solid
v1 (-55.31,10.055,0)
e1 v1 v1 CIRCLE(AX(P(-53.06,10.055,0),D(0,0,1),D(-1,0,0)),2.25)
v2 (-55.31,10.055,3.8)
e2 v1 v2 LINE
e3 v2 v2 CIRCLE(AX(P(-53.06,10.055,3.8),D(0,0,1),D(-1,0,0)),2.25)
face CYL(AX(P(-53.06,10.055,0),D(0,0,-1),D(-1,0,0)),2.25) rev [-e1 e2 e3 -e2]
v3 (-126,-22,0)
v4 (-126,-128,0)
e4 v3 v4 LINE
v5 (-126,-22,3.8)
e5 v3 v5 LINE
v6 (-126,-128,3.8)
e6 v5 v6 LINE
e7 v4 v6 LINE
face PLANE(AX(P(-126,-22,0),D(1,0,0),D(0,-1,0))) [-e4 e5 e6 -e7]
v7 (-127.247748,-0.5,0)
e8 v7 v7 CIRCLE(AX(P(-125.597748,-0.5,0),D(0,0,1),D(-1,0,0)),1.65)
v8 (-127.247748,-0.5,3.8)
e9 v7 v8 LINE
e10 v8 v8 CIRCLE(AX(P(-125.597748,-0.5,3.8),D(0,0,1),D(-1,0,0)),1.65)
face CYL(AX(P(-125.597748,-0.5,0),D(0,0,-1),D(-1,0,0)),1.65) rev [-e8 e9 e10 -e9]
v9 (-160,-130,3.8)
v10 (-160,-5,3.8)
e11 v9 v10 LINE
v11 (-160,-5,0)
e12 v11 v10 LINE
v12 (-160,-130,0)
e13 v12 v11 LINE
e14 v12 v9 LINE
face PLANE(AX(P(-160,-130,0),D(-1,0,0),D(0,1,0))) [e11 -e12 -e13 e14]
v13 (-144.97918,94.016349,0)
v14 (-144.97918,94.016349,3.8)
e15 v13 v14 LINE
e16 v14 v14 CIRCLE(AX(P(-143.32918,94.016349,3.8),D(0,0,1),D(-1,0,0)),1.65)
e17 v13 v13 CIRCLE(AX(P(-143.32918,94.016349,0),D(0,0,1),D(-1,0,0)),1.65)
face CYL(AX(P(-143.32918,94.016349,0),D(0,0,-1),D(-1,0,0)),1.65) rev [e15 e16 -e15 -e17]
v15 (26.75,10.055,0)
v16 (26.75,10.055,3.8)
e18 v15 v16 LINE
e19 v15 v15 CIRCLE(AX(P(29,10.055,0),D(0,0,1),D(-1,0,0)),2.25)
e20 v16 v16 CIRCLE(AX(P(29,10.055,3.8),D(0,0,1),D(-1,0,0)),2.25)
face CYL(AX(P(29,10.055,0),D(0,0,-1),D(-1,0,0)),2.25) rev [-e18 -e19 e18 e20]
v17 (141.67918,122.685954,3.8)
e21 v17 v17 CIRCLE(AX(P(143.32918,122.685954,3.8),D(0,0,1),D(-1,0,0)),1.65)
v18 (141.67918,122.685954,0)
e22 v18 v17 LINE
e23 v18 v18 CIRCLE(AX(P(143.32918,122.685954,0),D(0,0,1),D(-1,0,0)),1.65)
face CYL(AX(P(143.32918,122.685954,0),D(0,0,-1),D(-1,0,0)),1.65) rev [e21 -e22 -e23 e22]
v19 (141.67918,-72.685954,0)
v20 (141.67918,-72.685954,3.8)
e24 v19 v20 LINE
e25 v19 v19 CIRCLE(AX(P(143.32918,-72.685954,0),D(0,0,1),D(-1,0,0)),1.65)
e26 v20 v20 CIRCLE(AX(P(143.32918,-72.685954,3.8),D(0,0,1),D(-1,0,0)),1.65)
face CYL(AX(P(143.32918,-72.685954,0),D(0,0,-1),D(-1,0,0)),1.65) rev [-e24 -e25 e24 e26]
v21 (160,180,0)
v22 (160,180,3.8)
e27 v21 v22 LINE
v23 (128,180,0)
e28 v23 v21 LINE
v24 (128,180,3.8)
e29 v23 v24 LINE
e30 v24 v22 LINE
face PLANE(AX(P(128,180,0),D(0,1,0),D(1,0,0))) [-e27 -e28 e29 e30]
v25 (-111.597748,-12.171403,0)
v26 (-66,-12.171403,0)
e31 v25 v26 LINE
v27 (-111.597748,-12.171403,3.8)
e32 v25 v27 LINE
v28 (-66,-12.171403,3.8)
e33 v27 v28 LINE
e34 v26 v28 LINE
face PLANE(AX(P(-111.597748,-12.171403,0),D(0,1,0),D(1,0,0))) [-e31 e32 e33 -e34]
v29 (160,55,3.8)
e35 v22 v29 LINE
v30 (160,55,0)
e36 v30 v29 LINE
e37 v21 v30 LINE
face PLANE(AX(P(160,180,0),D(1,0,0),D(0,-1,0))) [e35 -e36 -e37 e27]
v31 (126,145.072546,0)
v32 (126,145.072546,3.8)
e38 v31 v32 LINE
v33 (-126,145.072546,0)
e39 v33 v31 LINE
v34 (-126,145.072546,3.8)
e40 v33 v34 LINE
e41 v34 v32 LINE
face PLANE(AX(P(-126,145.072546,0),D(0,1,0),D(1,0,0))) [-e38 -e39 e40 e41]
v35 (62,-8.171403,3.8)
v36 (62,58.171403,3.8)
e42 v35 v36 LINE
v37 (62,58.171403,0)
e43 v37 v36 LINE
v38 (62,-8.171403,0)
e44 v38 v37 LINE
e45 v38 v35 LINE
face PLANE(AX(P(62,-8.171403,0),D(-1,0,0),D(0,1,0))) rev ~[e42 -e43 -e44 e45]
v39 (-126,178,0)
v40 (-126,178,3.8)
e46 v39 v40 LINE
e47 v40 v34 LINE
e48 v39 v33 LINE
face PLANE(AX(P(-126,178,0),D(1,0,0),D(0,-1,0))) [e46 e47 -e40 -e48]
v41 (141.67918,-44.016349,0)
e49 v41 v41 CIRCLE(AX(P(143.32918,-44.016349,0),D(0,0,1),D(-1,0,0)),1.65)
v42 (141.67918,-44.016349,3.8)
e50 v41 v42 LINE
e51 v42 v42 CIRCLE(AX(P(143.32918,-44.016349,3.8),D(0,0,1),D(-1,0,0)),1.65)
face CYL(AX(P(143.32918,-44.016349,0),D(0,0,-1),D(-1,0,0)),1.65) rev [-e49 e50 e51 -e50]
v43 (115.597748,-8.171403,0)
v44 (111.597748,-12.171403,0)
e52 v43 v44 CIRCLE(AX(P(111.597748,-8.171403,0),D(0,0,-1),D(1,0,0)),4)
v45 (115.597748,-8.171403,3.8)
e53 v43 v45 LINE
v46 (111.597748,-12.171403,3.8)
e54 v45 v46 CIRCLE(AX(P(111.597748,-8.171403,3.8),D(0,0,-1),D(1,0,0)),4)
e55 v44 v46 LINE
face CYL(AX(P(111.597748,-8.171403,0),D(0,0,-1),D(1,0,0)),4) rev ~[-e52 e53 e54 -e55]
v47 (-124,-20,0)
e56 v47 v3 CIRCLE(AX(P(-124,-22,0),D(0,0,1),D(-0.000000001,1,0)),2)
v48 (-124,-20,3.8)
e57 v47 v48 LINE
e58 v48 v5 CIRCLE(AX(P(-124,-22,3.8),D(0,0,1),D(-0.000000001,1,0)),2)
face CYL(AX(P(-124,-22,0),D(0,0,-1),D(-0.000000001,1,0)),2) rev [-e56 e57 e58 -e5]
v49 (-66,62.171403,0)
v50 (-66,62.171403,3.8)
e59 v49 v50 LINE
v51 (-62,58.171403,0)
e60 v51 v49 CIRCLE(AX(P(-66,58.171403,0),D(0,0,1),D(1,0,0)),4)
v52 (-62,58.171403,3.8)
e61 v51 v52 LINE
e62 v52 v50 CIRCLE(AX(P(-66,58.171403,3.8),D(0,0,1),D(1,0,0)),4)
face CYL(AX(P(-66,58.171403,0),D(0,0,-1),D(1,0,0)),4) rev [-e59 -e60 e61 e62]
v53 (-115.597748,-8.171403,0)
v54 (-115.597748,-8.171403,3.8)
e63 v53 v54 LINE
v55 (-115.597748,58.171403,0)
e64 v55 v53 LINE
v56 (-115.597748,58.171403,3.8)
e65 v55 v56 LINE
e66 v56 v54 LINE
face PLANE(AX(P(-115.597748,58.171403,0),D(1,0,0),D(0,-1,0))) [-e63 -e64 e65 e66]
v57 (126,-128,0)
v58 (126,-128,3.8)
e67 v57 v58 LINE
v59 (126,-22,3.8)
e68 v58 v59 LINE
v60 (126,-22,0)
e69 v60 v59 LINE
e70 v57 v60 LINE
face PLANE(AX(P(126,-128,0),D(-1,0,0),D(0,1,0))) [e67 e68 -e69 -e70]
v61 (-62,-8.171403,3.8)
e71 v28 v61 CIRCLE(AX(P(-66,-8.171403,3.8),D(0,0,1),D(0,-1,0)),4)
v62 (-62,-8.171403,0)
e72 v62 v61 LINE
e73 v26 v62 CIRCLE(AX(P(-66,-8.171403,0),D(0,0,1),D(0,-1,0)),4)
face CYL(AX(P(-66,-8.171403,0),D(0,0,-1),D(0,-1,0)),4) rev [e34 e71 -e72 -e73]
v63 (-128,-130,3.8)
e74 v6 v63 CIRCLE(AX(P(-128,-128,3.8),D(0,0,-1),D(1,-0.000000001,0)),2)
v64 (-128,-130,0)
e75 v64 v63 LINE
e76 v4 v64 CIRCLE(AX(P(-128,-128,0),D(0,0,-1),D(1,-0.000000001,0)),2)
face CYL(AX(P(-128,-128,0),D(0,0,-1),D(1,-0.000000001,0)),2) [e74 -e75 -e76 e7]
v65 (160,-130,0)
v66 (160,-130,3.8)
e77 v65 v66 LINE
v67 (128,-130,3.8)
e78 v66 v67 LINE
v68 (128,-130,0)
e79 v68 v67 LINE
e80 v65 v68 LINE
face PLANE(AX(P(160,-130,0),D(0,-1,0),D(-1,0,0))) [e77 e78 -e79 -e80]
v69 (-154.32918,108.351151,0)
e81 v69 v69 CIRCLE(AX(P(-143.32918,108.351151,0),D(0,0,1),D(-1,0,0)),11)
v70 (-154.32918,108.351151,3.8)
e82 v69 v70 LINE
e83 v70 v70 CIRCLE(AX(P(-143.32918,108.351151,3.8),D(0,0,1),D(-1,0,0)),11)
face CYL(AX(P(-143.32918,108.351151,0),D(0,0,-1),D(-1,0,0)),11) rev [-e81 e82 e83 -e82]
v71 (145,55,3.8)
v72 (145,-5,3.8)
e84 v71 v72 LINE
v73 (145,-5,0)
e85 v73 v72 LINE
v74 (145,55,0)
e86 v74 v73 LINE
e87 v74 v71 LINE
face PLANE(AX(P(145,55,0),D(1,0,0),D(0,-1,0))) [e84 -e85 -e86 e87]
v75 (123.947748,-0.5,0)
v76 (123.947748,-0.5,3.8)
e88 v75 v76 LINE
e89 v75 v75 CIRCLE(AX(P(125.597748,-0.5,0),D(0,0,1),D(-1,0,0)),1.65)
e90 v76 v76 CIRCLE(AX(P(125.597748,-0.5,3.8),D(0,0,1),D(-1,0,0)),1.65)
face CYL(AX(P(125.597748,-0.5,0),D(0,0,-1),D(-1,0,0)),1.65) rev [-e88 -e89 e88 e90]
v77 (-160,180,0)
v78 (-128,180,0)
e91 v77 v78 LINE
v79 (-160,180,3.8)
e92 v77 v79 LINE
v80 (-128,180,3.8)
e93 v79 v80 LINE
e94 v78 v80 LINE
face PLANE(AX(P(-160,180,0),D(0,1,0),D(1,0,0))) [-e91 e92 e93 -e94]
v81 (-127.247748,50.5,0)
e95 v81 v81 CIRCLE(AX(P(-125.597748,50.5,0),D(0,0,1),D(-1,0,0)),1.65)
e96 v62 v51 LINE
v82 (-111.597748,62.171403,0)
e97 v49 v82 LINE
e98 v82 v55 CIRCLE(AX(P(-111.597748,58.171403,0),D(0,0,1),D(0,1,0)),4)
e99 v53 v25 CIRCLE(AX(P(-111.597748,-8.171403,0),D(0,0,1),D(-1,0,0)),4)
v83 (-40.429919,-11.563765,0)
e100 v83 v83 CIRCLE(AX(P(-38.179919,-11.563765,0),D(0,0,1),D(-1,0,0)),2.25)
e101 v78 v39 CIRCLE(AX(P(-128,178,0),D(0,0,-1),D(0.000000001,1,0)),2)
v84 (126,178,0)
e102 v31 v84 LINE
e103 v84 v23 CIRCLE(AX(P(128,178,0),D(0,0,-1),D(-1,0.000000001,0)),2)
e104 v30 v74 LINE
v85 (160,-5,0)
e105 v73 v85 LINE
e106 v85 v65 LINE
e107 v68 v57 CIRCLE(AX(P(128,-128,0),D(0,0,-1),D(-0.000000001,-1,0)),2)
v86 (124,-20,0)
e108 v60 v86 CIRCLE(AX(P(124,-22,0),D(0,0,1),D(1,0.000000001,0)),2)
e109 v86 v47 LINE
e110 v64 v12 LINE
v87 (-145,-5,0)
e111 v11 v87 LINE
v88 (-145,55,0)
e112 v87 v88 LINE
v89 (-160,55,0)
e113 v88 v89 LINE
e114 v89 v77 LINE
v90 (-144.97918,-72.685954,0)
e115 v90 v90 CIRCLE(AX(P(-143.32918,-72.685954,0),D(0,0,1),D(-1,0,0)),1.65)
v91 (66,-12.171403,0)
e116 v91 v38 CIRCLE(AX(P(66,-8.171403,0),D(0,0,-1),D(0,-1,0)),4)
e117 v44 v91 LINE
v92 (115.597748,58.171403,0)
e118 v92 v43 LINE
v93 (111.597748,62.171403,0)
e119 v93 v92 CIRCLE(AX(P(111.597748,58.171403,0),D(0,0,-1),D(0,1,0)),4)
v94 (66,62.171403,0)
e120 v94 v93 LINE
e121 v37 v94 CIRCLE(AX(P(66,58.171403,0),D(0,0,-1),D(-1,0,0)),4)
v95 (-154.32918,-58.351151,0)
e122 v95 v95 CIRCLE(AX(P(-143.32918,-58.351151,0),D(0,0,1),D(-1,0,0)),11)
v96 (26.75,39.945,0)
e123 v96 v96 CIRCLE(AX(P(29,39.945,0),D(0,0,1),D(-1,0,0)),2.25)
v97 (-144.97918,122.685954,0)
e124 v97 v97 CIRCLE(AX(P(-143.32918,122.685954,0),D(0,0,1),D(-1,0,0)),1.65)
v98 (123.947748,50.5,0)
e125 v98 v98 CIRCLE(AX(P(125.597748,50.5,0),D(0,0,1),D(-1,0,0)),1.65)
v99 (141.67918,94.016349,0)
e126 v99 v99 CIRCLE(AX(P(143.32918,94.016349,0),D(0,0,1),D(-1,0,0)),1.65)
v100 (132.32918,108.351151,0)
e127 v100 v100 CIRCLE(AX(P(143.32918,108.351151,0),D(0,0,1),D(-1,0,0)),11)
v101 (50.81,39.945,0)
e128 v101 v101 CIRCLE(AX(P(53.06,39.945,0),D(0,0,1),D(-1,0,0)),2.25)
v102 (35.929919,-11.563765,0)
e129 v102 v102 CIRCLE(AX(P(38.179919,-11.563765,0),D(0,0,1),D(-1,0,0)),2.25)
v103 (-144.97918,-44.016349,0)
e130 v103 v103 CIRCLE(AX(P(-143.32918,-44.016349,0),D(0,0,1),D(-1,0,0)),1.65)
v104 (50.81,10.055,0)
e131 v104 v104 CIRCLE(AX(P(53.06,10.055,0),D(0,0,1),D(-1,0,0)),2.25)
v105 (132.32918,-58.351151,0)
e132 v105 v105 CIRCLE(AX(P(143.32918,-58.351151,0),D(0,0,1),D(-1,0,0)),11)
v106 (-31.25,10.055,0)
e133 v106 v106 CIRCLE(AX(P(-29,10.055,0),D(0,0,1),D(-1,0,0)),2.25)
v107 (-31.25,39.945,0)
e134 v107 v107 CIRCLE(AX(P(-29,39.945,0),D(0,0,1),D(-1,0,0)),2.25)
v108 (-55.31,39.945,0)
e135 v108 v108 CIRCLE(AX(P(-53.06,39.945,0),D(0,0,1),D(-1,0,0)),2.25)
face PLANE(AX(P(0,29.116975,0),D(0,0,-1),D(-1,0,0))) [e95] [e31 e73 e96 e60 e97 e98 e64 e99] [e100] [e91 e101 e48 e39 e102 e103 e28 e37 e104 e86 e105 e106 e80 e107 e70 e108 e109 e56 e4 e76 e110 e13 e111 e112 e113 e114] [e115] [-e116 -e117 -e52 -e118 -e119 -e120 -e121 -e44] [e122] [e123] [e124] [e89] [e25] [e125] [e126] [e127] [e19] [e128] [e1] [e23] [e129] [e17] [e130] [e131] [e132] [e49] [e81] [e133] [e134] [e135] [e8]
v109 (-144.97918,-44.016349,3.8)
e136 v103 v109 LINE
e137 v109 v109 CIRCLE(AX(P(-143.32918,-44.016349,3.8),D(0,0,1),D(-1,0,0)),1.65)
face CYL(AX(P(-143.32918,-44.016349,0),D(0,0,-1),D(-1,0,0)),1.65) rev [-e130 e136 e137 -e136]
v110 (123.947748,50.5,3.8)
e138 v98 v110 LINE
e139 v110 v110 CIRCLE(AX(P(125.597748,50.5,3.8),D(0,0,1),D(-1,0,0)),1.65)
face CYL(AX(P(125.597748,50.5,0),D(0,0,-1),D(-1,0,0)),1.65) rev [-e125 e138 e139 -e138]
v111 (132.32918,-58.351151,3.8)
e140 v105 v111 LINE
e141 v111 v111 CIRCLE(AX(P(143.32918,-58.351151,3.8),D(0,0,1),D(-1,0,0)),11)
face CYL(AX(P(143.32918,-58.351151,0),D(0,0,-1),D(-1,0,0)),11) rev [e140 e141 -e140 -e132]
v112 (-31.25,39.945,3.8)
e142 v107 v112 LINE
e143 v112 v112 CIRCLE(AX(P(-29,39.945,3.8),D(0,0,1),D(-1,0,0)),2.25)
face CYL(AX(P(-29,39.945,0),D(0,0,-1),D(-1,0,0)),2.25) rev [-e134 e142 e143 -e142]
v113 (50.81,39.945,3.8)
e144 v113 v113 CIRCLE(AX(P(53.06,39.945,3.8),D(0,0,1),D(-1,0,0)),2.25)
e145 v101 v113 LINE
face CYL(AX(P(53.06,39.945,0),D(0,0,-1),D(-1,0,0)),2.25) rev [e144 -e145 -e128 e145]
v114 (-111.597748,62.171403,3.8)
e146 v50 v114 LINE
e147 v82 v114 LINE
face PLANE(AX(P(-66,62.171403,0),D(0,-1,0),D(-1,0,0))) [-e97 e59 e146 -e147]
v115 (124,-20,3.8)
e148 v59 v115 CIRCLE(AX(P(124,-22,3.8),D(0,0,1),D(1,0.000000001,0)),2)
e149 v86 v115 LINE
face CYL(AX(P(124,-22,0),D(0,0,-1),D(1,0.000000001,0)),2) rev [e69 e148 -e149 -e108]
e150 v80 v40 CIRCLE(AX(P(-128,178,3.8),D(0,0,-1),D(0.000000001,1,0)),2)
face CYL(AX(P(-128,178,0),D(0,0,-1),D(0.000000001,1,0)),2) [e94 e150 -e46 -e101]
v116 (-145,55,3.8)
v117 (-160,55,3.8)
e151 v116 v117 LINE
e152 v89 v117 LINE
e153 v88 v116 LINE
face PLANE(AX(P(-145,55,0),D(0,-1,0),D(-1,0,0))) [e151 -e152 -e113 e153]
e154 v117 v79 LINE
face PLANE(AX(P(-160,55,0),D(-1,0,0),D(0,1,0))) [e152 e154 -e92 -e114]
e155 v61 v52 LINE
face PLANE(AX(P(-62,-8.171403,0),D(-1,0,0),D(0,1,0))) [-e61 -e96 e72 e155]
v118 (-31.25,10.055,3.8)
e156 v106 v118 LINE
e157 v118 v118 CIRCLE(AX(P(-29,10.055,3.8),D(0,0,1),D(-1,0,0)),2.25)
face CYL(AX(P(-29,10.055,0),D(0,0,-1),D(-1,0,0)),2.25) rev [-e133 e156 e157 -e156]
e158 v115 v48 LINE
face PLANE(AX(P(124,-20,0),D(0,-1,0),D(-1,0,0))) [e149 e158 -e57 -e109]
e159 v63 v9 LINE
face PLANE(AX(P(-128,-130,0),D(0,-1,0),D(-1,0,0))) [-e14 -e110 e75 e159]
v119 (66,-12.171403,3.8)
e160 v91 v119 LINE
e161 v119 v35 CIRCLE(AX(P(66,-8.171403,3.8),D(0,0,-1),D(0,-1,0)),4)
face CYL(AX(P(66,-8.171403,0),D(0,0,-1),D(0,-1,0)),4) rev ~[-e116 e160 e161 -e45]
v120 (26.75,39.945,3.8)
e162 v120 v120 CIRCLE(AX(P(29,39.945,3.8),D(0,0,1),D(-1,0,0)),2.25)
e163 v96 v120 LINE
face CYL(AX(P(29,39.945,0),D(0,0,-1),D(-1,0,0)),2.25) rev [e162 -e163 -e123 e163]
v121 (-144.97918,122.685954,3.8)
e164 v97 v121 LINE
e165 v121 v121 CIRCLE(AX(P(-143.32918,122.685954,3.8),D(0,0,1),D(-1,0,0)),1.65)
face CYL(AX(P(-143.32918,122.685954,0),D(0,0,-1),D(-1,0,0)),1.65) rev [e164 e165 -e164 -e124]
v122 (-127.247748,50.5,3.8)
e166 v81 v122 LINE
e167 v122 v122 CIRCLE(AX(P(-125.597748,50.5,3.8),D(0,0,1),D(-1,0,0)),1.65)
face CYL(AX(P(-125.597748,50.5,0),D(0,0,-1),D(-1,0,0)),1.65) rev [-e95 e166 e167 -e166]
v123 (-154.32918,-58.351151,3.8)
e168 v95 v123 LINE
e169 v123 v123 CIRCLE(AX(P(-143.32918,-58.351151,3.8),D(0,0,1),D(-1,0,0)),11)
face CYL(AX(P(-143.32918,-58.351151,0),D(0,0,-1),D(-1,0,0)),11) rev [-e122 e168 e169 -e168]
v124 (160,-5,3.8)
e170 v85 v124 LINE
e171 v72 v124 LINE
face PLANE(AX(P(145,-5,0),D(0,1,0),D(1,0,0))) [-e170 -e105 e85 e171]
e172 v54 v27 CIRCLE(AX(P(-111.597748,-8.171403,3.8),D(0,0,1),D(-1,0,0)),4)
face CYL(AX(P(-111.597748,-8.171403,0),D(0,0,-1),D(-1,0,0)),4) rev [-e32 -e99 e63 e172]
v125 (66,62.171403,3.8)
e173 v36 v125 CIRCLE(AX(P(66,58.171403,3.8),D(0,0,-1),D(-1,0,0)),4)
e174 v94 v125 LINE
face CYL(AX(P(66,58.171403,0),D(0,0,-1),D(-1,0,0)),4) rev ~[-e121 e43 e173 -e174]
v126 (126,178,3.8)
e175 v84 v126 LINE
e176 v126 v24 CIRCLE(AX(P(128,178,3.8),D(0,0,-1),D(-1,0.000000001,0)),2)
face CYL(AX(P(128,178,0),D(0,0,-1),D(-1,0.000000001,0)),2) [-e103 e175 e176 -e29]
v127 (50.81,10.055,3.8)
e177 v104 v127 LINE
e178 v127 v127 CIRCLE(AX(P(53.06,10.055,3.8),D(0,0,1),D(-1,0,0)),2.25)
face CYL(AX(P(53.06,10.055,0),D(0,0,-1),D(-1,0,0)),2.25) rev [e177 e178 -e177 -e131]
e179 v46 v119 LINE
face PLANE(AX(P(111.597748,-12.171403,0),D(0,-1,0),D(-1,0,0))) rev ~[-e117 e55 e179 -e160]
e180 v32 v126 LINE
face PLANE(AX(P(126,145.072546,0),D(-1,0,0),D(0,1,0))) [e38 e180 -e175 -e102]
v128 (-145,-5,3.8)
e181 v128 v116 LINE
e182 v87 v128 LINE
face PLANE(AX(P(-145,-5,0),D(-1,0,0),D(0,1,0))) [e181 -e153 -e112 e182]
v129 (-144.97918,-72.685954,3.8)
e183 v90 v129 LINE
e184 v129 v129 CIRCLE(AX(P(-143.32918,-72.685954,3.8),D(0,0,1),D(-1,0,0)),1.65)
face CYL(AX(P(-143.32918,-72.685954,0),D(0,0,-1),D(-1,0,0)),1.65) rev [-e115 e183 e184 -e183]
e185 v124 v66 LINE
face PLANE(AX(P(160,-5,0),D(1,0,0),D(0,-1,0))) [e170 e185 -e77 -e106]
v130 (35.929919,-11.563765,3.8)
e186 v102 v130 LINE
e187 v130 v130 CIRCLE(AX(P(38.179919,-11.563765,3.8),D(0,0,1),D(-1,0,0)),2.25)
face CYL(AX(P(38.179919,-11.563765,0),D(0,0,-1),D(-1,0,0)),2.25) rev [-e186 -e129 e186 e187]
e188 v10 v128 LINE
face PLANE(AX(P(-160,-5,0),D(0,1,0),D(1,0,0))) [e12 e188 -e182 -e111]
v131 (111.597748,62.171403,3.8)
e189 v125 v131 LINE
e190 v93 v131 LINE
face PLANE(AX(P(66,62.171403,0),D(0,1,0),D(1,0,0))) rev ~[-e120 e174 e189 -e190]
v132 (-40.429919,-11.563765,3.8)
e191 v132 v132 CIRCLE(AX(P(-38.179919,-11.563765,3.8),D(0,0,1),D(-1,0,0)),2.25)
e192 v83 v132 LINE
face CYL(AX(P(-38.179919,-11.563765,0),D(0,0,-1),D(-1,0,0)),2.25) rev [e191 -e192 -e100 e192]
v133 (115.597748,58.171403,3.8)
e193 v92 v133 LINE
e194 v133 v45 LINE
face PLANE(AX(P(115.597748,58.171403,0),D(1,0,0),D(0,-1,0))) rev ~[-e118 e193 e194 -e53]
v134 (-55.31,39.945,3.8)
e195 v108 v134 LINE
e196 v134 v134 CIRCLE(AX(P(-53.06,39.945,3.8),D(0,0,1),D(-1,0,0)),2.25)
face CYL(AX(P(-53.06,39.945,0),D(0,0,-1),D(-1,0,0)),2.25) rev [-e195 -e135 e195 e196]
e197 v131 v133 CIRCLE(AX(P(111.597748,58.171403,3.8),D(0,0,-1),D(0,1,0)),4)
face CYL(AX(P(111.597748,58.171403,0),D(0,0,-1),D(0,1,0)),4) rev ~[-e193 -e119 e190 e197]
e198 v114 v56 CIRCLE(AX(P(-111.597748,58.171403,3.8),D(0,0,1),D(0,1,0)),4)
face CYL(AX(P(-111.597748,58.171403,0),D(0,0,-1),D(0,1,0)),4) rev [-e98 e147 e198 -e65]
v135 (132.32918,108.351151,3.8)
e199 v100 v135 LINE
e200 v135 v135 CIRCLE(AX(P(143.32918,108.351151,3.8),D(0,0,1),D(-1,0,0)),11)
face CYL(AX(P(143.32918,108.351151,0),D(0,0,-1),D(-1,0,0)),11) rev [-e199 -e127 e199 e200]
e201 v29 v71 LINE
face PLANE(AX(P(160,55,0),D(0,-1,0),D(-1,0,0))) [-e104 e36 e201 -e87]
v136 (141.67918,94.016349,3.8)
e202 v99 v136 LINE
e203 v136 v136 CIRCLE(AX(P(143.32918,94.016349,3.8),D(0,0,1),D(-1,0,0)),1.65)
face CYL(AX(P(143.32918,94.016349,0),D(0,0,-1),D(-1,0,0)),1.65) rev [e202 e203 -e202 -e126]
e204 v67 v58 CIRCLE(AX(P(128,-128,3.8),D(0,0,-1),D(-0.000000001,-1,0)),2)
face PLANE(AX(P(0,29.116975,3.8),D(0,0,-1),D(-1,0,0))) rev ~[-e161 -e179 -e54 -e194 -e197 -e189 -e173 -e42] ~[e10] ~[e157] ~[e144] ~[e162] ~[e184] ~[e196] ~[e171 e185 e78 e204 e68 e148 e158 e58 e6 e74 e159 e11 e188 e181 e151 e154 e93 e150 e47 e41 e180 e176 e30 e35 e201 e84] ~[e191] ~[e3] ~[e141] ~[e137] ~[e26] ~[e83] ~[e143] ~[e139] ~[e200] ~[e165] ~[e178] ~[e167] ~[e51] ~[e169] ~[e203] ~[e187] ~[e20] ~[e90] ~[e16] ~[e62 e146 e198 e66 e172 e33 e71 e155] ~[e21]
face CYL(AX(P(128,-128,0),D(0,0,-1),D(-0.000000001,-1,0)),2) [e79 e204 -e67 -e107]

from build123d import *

# Parameters (mm, degrees)
SKETCH2_R           = 1.65
SKETCH2_R_2         = 11
SKETCH2_R_3         = 2.25
BOSS_EXTRUDE1_DEPTH = 3.8


with BuildPart() as part:
    # Sketch2 → Boss-Extrude1 (new body)
    with BuildSketch(Plane.XY):
        with BuildLine():
            Line((-160, 180), (-128, 180))
            ThreePointArc((-128, 180), (-126.585786438, 179.414213562), (-126, 178))
            Line((-126, 178), (-126, 145.072545974))
            Line((-126, 145.072545974), (126, 145.072545974))
            Line((126, 145.072545974), (126, 178))
            ThreePointArc((126, 178), (126.585786438, 179.414213562), (128, 180))
            Line((128, 180), (160, 180))
            Line((160, 180), (160, 55))
            Line((160, 55), (145, 55))
            Line((145, 55), (145, -5))
            Line((145, -5), (160, -5))
            Line((160, -5), (160, -130))
            Line((160, -130), (128, -130))
            ThreePointArc((128, -130), (126.585786438, -129.414213562), (126, -128))
            Line((126, -128), (126, -22))
            ThreePointArc((126, -22), (125.414213562, -20.585786438), (124, -20))
            Line((124, -20), (-124, -20))
            ThreePointArc((-124, -20), (-125.414213562, -20.585786438), (-126, -22))
            Line((-126, -22), (-126, -128))
            ThreePointArc((-126, -128), (-126.585786438, -129.414213562), (-128, -130))
            Line((-128, -130), (-160, -130))
            Line((-160, -130), (-160, -5))
            Line((-160, -5), (-145, -5))
            Line((-145, -5), (-145, 55))
            Line((-145, 55), (-160, 55))
            Line((-160, 55), (-160, 180))
        make_face()
        with Locations(Location((-143.329179578, 122.685954214, 0), (0, 0, 180))):
            Circle(SKETCH2_R, mode=Mode.SUBTRACT)
        with Locations(Location((-143.329179578, 94.016348561, 0), (0, 0, 180))):
            Circle(SKETCH2_R, mode=Mode.SUBTRACT)
        with Locations(Location((143.329179578, 122.685954214, 0), (0, 0, 180))):
            Circle(SKETCH2_R, mode=Mode.SUBTRACT)
        with Locations(Location((143.329179578, 94.016348561, 0), (0, 0, 180))):
            Circle(SKETCH2_R, mode=Mode.SUBTRACT)
        with Locations(Location((143.329179578, 108.351151387, 0), (0, 0, 180))):
            Circle(SKETCH2_R_2, mode=Mode.SUBTRACT)
        with Locations(Location((-143.329179578, 108.351151387, 0), (0, 0, 180))):
            Circle(SKETCH2_R_2, mode=Mode.SUBTRACT)
        with Locations(Location((125.59774802, -0.5, 0), (0, 0, 180))):
            Circle(SKETCH2_R, mode=Mode.SUBTRACT)
        with Locations(Location((125.59774802, 50.5, 0), (0, 0, 180))):
            Circle(SKETCH2_R, mode=Mode.SUBTRACT)
        with Locations(Location((-125.59774802, -0.5, 0), (0, 0, 180))):
            Circle(SKETCH2_R, mode=Mode.SUBTRACT)
        with Locations(Location((-125.59774802, 50.5, 0), (0, 0, 180))):
            Circle(SKETCH2_R, mode=Mode.SUBTRACT)
        with Locations(Location((-29, 10.055, 0), (0, 0, 180))):
            Circle(SKETCH2_R_3, mode=Mode.SUBTRACT)
        with Locations(Location((-29, 39.945, 0), (0, 0, 180))):
            Circle(SKETCH2_R_3, mode=Mode.SUBTRACT)
        with Locations(Location((-53.06, 39.945, 0), (0, 0, 180))):
            Circle(SKETCH2_R_3, mode=Mode.SUBTRACT)
        with Locations(Location((-53.06, 10.055, 0), (0, 0, 180))):
            Circle(SKETCH2_R_3, mode=Mode.SUBTRACT)
        with Locations(Location((53.06, 10.055, 0), (0, 0, 180))):
            Circle(SKETCH2_R_3, mode=Mode.SUBTRACT)
        with Locations(Location((29, 10.055, 0), (0, 0, 180))):
            Circle(SKETCH2_R_3, mode=Mode.SUBTRACT)
        with Locations(Location((29, 39.945, 0), (0, 0, 180))):
            Circle(SKETCH2_R_3, mode=Mode.SUBTRACT)
        with Locations(Location((53.06, 39.945, 0), (0, 0, 180))):
            Circle(SKETCH2_R_3, mode=Mode.SUBTRACT)
        with Locations(Location((143.329179578, -72.685954214, 0), (0, 0, 180))):
            Circle(SKETCH2_R, mode=Mode.SUBTRACT)
        with Locations(Location((143.329179578, -44.016348561, 0), (0, 0, 180))):
            Circle(SKETCH2_R, mode=Mode.SUBTRACT)
        with Locations(Location((143.329179578, -58.351151387, 0), (0, 0, 180))):
            Circle(SKETCH2_R_2, mode=Mode.SUBTRACT)
        with Locations(Location((-143.329179578, -58.351151387, 0), (0, 0, 180))):
            Circle(SKETCH2_R_2, mode=Mode.SUBTRACT)
        with Locations(Location((-143.329179578, -44.016348561, 0), (0, 0, 180))):
            Circle(SKETCH2_R, mode=Mode.SUBTRACT)
        with Locations(Location((-143.329179578, -72.685954214, 0), (0, 0, 180))):
            Circle(SKETCH2_R, mode=Mode.SUBTRACT)
        with Locations(Location((38.179918963, -11.563765186, 0), (0, 0, 180))):
            Circle(SKETCH2_R_3, mode=Mode.SUBTRACT)
        with Locations(Location((-38.179918963, -11.563765186, 0), (0, 0, 180))):
            Circle(SKETCH2_R_3, mode=Mode.SUBTRACT)
        with BuildLine():
            Line((-66, 62.171403079), (-111.59774802, 62.171403079))
            ThreePointArc((-111.59774802, 62.171403079), (-114.426175145, 60.999830204), (-115.59774802, 58.171403079))
            Line((-115.59774802, 58.171403079), (-115.59774802, -8.171403079))
            ThreePointArc((-115.59774802, -8.171403079), (-114.426175145, -10.999830204), (-111.59774802, -12.171403079))
            Line((-111.59774802, -12.171403079), (-66, -12.171403079))
            ThreePointArc((-66, -12.171403079), (-63.171572875, -10.999830204), (-62, -8.171403079))
            Line((-62, -8.171403079), (-62, 58.171403079))
            ThreePointArc((-62, 58.171403079), (-63.171572875, 60.999830204), (-66, 62.171403079))
        make_face(mode=Mode.SUBTRACT)
        with BuildLine():
            Line((66, 62.171403079), (111.59774802, 62.171403079))
            ThreePointArc((111.59774802, 62.171403079), (114.426175145, 60.999830204), (115.59774802, 58.171403079))
            Line((115.59774802, 58.171403079), (115.59774802, -8.171403079))
            ThreePointArc((115.59774802, -8.171403079), (114.426175145, -10.999830204), (111.59774802, -12.171403079))
            Line((111.59774802, -12.171403079), (66, -12.171403079))
            ThreePointArc((66, -12.171403079), (63.171572875, -10.999830204), (62, -8.171403079))
            Line((62, -8.171403079), (62, 58.171403079))
            ThreePointArc((62, 58.171403079), (63.171572875, 60.999830204), (66, 62.171403079))
        make_face(mode=Mode.SUBTRACT)
    extrude(amount=BOSS_EXTRUDE1_DEPTH)


solid = part.part
